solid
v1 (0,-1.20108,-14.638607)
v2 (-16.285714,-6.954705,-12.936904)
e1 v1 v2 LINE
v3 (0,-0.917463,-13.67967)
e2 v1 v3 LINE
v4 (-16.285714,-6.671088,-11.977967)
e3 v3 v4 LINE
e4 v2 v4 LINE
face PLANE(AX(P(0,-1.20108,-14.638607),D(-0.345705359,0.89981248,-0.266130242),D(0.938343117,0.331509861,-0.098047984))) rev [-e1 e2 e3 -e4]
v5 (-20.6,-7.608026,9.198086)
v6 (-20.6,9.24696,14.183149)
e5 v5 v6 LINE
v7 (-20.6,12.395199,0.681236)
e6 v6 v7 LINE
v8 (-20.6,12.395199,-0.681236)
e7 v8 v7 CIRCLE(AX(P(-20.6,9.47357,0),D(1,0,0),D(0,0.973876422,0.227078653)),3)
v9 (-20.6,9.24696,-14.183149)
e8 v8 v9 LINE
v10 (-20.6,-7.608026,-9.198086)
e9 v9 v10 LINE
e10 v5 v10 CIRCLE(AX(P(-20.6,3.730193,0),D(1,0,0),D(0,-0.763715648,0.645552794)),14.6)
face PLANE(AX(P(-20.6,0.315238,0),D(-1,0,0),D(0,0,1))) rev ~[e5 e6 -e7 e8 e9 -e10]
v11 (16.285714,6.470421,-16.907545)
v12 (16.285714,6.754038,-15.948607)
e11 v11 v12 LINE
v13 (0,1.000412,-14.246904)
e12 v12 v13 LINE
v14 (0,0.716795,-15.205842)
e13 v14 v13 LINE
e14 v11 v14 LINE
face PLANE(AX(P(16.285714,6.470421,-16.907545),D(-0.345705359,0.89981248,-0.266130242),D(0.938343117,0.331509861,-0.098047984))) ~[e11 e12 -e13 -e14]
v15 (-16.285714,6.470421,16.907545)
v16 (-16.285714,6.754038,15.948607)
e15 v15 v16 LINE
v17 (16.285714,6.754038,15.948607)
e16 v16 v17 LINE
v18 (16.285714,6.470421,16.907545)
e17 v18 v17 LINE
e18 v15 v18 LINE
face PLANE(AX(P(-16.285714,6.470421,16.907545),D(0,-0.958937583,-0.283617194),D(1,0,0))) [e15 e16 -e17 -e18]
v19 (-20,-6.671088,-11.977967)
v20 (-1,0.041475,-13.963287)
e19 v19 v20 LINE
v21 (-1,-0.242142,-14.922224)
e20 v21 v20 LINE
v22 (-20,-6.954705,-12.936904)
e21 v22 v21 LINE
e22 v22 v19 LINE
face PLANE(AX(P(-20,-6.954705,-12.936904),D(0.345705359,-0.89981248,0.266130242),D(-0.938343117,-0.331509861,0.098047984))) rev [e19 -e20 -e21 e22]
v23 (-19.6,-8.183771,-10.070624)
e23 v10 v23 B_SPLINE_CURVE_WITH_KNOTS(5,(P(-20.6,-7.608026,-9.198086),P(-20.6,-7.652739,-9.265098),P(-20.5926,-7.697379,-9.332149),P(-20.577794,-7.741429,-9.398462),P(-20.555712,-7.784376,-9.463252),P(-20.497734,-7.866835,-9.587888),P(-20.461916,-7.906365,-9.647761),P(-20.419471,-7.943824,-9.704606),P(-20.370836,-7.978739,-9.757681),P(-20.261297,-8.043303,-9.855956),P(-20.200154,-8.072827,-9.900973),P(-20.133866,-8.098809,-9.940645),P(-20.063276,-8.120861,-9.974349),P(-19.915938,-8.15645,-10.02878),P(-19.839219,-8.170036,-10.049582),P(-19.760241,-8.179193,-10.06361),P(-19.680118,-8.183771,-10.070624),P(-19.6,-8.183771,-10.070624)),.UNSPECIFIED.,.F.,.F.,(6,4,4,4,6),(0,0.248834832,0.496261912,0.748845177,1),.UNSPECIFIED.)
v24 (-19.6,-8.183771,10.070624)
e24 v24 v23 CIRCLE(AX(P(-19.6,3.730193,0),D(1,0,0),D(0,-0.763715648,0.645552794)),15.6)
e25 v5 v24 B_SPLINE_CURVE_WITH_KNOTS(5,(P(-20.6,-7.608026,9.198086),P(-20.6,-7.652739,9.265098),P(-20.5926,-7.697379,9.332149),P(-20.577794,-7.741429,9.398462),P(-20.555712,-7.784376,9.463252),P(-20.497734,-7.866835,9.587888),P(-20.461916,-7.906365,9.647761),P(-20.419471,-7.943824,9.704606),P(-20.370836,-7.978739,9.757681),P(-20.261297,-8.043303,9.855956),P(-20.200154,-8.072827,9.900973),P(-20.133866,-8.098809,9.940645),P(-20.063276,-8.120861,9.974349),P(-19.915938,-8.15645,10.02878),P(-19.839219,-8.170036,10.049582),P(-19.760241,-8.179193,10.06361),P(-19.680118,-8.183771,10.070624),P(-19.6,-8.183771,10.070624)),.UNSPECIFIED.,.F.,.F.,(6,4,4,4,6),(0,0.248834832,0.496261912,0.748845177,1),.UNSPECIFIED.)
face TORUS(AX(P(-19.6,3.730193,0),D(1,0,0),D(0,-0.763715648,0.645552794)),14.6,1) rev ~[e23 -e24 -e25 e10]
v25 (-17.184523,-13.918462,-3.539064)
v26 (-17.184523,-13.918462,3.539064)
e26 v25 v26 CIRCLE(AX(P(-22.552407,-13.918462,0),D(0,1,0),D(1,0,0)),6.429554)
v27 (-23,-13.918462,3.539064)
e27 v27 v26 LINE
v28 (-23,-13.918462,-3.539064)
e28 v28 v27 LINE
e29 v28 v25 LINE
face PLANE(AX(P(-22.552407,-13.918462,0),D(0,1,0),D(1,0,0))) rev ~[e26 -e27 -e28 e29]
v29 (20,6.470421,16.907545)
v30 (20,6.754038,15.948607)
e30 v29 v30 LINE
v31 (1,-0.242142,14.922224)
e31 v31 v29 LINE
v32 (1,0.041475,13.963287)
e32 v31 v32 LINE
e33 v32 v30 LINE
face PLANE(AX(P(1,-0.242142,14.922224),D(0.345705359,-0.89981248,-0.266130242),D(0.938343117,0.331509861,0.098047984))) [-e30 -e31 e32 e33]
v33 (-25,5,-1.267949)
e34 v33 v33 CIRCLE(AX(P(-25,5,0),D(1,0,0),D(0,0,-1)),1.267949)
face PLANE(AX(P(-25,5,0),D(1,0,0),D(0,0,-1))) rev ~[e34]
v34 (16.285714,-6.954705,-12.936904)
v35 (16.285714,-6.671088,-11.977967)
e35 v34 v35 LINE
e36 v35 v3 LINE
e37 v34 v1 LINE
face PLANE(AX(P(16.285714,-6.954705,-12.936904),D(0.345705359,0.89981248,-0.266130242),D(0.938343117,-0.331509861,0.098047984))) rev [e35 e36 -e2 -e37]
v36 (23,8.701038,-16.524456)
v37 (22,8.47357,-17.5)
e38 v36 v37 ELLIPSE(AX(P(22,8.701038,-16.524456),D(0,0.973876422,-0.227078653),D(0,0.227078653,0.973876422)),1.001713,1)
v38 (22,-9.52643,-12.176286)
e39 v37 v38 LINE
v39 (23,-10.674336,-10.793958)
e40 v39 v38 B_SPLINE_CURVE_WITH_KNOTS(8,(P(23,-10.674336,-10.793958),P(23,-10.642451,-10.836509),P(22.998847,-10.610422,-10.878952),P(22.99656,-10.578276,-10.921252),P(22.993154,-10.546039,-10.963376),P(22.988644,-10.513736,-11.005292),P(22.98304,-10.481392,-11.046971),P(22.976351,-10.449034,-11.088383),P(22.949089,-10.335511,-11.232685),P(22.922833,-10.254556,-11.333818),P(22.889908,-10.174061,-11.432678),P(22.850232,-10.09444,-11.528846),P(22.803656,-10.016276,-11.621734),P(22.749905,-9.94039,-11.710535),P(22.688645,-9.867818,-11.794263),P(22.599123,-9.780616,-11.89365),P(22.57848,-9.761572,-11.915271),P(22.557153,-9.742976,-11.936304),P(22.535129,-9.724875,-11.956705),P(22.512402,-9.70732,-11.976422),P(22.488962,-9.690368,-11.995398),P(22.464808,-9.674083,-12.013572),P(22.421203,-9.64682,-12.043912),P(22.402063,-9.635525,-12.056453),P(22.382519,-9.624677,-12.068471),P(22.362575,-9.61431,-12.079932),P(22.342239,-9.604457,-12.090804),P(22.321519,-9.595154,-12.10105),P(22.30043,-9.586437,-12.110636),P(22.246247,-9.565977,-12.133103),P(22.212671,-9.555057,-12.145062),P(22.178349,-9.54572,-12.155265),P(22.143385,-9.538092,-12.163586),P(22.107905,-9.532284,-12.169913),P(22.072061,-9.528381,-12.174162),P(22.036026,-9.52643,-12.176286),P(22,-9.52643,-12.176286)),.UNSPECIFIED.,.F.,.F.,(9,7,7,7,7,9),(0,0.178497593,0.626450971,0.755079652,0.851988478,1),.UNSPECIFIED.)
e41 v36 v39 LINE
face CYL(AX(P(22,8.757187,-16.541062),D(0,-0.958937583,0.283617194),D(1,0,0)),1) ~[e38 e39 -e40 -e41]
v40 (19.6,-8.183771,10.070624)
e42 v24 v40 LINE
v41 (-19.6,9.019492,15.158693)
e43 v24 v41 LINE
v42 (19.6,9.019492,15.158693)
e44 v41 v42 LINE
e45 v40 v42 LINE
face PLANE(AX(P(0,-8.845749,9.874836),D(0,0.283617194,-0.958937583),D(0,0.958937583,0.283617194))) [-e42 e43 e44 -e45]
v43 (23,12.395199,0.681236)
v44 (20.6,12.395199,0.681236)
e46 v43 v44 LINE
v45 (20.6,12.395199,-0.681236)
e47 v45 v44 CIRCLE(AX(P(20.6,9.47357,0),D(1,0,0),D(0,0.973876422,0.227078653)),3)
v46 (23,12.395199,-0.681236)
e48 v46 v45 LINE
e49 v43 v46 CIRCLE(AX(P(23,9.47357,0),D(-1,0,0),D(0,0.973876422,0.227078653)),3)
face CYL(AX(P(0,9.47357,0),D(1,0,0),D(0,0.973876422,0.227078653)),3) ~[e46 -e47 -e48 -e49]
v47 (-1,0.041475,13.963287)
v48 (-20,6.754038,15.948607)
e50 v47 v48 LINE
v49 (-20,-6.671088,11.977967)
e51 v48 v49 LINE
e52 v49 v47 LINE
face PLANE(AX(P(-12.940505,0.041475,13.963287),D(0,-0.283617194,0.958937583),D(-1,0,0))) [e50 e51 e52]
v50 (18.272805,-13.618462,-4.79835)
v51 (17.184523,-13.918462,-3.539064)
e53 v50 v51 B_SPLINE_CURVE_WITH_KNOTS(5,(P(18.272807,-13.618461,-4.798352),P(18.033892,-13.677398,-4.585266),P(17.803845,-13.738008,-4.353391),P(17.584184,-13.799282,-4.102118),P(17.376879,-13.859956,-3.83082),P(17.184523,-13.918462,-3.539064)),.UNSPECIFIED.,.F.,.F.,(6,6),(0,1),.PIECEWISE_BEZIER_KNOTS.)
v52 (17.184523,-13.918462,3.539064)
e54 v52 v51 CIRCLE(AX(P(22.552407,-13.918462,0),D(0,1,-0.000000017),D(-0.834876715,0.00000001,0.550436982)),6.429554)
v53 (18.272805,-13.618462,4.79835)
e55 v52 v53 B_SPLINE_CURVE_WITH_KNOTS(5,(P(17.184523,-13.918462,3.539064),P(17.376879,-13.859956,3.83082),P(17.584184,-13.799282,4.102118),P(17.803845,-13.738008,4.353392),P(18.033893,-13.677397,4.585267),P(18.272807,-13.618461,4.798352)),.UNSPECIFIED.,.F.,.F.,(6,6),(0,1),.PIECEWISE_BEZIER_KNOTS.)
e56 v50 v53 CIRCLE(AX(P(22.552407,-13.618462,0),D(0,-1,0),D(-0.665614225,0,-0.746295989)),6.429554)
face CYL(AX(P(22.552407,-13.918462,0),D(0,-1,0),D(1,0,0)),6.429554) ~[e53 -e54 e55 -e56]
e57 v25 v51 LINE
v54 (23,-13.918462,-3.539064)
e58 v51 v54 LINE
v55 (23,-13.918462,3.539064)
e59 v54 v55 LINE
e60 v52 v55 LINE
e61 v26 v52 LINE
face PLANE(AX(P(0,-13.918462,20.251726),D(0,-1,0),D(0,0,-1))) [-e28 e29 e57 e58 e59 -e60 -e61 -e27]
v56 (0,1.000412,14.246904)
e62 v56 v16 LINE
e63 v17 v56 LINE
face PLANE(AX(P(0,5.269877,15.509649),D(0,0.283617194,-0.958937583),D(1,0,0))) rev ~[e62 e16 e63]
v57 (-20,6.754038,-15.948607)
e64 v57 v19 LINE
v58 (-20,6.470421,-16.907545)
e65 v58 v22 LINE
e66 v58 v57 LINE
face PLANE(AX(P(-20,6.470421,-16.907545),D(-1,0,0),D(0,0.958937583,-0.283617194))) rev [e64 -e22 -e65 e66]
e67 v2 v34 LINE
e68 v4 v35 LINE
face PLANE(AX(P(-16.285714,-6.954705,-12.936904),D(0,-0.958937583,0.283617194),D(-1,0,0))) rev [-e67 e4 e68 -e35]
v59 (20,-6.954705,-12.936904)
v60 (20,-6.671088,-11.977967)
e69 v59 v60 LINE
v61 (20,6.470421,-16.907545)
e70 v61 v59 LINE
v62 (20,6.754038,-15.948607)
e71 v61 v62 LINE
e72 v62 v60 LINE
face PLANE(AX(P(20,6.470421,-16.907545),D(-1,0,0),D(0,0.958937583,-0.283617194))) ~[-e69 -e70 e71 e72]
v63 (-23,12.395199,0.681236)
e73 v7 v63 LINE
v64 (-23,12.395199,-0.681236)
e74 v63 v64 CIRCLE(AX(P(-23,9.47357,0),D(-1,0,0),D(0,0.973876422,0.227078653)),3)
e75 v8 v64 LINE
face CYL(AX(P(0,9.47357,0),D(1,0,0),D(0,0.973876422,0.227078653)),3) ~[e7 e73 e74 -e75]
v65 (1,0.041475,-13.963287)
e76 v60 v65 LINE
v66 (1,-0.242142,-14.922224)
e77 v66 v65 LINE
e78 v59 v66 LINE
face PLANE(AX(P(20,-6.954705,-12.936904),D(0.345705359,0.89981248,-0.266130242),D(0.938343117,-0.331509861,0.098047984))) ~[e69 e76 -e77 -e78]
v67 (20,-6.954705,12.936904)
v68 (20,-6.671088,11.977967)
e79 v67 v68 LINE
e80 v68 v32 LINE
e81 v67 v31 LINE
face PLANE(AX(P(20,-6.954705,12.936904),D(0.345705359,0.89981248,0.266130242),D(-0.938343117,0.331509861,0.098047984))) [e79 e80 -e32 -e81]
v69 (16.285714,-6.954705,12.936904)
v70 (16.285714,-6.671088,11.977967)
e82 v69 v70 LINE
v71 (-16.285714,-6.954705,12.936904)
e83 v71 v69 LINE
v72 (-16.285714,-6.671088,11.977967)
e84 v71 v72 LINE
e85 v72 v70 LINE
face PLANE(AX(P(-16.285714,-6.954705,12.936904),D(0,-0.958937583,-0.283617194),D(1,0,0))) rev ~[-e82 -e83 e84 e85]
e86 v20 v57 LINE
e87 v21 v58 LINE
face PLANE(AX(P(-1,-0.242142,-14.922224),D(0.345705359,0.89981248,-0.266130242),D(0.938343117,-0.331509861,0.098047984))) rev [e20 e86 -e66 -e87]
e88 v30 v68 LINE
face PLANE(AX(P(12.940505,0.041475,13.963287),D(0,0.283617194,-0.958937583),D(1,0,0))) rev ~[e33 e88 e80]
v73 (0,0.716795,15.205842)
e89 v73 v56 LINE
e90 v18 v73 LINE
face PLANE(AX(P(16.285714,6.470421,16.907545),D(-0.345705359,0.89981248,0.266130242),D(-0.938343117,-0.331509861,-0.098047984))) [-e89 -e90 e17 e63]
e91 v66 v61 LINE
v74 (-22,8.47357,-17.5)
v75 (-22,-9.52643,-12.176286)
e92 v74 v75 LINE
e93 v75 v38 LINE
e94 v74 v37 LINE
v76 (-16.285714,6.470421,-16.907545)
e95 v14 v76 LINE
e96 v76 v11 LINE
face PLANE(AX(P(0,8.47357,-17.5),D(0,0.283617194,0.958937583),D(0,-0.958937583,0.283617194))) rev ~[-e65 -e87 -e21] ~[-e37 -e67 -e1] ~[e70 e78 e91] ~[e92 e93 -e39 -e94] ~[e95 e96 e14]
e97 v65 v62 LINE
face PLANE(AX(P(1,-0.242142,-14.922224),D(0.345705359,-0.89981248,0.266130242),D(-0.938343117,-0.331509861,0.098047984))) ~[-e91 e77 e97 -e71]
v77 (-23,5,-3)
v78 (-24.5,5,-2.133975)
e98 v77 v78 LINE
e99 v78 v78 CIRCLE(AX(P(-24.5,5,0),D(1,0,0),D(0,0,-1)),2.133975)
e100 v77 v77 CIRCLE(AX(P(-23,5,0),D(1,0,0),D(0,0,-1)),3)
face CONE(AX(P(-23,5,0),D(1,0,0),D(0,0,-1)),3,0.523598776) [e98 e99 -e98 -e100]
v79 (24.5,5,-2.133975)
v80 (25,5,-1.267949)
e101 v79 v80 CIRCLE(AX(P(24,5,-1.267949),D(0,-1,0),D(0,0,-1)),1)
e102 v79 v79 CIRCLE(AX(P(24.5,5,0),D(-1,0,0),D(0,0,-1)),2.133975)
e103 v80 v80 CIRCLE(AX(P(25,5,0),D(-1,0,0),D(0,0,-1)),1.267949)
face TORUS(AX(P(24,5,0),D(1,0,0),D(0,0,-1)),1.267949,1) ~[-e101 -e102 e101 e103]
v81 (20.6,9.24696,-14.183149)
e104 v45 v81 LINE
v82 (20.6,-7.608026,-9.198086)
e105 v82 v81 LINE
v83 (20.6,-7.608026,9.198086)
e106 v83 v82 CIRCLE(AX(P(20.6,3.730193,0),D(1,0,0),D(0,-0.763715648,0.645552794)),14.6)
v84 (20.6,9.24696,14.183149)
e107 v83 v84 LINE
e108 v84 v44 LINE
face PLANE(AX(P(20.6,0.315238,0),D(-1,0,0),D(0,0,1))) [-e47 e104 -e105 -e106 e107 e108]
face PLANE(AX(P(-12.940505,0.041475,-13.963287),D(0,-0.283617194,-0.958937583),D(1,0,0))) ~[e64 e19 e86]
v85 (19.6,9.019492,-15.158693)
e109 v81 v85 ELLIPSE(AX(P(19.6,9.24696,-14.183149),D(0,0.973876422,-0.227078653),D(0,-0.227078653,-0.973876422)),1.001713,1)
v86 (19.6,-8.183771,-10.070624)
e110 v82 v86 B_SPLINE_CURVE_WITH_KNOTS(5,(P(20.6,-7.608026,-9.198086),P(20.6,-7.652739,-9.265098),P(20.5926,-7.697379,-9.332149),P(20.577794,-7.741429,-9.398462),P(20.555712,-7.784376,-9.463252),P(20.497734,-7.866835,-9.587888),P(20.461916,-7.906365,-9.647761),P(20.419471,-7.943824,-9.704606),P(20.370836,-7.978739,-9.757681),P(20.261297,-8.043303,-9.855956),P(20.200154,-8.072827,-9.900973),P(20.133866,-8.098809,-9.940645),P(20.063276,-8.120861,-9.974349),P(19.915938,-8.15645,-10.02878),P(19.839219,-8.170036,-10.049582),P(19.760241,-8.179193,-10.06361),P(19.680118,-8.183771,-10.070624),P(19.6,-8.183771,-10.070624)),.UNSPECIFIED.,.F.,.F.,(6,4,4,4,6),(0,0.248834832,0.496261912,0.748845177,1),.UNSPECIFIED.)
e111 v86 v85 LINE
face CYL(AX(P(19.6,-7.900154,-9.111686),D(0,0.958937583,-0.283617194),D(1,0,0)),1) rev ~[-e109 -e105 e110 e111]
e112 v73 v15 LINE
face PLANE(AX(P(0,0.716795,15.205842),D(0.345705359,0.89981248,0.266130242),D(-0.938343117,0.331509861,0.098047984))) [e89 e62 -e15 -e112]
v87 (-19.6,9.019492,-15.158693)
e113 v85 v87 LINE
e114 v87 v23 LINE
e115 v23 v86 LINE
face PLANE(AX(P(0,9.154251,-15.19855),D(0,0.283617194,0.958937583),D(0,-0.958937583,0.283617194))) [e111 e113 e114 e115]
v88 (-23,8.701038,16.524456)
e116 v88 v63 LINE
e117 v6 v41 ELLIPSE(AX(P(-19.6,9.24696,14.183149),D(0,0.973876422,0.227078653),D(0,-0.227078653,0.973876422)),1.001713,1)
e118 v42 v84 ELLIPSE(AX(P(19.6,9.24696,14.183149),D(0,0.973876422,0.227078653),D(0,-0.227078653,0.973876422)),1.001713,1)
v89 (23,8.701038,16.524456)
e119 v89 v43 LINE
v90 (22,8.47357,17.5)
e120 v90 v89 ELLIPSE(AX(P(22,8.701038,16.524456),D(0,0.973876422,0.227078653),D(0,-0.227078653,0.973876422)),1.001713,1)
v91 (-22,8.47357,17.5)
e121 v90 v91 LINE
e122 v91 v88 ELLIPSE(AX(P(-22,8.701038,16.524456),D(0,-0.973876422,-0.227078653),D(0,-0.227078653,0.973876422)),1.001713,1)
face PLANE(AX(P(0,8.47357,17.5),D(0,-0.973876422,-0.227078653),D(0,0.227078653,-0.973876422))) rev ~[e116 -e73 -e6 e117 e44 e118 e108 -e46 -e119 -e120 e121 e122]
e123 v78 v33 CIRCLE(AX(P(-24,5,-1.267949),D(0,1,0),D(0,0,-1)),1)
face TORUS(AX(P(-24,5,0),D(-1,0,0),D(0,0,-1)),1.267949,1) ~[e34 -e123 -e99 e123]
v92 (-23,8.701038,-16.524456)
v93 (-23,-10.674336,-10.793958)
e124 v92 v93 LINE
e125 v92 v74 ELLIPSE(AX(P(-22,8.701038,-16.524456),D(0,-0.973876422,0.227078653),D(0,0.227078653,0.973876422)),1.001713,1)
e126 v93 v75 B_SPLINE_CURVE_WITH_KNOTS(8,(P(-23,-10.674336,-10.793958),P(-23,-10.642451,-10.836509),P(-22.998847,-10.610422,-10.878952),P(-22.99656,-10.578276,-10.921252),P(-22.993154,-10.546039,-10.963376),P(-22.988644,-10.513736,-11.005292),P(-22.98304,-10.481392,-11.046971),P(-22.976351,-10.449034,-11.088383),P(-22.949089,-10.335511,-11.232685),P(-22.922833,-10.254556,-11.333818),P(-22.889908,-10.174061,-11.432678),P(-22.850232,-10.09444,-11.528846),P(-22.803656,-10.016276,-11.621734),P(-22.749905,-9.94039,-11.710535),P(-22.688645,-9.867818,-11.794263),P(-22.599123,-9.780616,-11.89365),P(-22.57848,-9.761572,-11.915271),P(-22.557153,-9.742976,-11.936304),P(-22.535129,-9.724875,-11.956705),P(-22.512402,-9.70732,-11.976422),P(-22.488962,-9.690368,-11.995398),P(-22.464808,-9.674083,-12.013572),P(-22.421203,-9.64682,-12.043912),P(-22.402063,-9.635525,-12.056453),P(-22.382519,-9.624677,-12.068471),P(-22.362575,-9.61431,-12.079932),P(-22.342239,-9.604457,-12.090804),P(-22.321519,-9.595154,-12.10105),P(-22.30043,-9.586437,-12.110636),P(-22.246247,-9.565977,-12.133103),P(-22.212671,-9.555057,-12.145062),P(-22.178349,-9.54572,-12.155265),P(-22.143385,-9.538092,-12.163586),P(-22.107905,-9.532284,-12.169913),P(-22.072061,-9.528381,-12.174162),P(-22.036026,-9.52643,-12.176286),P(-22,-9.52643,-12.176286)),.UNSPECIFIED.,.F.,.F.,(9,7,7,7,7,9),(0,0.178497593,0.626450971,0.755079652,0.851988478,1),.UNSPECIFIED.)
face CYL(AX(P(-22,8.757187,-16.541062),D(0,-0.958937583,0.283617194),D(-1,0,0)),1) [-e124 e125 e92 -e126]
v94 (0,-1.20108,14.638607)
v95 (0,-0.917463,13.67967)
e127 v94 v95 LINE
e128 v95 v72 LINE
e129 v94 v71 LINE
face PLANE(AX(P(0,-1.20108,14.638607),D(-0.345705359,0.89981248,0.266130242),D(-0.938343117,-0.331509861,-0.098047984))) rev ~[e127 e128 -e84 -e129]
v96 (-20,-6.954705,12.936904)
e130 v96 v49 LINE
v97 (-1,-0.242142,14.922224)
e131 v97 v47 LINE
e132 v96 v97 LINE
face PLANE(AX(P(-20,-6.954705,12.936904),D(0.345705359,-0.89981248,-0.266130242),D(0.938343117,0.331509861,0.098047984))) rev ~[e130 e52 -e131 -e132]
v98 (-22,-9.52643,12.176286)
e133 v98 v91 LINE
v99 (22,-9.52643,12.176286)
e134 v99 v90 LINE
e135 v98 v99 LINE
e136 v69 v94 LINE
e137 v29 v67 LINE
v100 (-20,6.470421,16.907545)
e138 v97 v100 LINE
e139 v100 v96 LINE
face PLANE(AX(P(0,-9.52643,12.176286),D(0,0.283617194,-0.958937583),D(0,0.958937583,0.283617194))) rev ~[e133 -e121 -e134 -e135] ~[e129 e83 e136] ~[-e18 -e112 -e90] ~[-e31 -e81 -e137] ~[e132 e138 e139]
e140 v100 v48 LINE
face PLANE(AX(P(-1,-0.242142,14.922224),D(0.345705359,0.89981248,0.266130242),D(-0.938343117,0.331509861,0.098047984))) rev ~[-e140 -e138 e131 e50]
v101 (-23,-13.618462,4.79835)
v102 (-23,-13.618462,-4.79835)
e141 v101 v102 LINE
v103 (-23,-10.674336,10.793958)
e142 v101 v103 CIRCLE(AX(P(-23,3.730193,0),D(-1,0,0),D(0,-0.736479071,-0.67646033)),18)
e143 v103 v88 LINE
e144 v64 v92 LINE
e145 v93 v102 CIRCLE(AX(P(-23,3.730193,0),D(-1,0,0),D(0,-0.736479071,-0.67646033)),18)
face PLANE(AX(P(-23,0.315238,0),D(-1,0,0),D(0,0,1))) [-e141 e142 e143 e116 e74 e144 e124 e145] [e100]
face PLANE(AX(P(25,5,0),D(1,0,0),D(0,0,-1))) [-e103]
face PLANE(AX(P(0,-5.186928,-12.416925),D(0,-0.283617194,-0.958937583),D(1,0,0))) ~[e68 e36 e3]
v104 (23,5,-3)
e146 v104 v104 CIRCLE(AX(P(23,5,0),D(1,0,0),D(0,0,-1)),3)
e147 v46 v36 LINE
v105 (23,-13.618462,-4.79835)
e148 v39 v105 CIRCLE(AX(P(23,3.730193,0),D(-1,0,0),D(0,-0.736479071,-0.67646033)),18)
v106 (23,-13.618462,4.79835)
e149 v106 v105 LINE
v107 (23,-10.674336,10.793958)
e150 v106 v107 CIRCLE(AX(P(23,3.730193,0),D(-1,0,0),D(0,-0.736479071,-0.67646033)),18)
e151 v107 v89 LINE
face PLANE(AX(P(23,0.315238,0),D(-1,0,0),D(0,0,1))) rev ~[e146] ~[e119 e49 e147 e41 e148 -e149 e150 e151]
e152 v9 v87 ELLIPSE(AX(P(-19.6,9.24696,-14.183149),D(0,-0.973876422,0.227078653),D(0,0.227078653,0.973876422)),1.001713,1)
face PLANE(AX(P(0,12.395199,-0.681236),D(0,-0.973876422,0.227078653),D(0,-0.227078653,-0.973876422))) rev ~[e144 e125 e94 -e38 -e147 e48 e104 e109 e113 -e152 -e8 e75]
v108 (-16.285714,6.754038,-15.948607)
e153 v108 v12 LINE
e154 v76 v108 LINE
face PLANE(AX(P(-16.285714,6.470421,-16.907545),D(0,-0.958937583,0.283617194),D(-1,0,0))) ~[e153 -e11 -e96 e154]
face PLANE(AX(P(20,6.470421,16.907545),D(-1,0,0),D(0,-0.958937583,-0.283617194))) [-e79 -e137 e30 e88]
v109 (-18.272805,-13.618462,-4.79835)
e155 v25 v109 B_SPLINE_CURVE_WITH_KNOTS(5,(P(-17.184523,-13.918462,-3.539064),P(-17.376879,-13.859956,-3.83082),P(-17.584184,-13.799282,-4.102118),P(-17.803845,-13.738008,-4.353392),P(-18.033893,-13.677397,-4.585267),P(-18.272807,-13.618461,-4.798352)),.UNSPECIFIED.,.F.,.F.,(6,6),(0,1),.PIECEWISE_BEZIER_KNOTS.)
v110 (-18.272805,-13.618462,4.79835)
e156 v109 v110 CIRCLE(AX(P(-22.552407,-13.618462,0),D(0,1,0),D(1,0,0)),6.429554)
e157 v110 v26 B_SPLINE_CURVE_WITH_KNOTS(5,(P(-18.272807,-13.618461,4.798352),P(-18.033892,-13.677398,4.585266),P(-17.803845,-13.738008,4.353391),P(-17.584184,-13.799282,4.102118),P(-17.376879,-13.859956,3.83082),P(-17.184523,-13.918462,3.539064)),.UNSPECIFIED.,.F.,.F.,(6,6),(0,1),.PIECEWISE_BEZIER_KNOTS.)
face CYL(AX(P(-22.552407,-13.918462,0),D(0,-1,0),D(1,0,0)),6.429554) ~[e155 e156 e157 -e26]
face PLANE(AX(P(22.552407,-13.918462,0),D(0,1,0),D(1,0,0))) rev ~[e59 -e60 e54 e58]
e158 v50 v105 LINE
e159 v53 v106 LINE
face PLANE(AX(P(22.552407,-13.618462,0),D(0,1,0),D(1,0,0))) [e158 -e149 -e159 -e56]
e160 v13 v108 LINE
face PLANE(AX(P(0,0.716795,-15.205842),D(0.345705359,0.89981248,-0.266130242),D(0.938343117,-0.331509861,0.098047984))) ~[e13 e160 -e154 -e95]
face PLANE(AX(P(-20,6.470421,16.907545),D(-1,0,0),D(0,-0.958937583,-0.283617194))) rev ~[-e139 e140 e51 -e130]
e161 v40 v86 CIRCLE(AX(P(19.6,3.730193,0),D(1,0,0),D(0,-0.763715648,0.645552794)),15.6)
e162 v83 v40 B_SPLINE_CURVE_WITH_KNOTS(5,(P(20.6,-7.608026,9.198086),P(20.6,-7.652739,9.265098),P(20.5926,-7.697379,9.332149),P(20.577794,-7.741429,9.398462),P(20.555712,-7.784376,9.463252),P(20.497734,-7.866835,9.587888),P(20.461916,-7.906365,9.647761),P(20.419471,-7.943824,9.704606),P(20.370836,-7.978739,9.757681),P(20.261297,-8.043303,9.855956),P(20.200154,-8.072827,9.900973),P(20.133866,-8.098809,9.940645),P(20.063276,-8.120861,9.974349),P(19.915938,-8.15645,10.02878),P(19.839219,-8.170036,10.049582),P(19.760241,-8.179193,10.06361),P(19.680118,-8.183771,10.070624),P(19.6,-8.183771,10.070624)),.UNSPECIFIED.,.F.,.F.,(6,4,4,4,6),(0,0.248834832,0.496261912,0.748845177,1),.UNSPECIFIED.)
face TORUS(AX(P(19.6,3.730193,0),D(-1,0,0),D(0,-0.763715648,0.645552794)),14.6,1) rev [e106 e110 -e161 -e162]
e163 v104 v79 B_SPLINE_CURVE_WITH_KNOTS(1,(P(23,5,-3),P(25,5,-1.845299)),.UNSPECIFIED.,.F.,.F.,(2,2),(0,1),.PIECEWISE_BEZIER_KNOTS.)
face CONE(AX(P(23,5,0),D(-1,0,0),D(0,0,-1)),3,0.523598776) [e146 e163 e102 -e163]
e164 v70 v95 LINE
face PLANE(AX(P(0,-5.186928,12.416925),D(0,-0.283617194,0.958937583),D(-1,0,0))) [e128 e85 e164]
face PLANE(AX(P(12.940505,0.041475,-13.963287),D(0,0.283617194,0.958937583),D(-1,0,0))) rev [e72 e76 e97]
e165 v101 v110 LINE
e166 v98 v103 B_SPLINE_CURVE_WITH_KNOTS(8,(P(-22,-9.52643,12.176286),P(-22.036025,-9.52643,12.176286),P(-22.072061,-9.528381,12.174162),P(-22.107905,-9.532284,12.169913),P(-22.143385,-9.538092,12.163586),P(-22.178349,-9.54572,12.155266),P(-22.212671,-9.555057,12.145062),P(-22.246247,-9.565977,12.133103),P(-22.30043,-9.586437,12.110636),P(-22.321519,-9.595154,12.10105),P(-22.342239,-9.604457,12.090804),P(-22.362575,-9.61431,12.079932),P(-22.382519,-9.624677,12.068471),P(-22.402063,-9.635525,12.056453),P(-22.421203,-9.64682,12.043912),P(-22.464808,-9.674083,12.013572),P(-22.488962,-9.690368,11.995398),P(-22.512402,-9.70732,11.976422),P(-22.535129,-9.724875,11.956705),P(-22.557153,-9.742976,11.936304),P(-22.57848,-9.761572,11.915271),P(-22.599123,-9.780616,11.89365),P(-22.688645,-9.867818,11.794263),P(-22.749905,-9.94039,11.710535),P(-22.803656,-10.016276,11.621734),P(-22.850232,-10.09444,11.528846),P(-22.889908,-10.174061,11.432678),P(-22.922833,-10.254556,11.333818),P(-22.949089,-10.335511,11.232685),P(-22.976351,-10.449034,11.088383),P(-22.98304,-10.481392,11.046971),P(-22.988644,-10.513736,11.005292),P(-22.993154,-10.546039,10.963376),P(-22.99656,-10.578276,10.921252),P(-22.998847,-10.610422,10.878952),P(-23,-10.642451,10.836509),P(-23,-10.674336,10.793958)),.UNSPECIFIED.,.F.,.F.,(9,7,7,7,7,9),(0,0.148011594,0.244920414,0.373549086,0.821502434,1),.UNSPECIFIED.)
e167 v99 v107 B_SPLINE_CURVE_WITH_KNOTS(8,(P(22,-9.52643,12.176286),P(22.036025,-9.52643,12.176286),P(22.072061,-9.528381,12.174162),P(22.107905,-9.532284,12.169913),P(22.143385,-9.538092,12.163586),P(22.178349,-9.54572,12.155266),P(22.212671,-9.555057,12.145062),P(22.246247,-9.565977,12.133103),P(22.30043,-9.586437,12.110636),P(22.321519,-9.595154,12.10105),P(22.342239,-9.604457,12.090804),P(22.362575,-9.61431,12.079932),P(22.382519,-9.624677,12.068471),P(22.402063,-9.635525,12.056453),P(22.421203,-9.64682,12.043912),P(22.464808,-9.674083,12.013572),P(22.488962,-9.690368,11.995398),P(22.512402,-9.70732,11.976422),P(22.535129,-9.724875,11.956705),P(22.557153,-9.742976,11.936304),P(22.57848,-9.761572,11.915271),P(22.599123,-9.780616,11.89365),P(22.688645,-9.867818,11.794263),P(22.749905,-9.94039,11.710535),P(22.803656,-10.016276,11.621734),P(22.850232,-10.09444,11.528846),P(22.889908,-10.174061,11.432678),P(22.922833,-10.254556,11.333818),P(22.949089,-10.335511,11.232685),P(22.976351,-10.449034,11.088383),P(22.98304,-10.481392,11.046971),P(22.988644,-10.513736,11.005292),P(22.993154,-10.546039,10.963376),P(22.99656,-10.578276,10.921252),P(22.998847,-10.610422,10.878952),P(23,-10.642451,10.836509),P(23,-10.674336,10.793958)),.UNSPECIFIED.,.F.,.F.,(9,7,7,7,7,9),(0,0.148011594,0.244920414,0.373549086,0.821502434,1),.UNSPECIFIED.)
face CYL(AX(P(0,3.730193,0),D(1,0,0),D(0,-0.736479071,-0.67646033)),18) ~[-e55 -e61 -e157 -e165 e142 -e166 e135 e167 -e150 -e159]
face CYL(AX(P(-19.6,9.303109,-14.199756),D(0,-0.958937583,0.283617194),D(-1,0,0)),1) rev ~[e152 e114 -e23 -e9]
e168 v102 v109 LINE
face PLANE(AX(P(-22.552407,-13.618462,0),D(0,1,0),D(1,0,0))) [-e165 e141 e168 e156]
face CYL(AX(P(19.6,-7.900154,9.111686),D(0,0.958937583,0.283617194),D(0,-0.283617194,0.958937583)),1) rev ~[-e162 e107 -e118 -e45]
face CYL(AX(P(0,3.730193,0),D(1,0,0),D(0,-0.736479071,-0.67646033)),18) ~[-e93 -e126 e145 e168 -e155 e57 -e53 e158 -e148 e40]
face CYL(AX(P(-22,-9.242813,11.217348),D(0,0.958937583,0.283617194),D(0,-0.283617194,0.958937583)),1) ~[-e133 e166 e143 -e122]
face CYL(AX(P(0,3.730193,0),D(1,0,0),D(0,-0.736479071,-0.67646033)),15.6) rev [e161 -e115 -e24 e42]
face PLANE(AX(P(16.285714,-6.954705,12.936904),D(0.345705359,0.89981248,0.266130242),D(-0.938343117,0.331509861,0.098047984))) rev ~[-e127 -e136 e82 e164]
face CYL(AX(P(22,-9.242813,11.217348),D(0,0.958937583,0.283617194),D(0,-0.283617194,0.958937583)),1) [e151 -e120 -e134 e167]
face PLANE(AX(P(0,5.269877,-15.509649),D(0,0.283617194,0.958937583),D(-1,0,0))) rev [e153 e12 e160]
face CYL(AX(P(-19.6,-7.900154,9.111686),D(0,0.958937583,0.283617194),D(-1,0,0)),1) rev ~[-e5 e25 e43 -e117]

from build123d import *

# Parameters (mm, degrees)
BOSS_EXTRUDE1_DEPTH = 23
SHELL1_T            = -2.4
BOSS_EXTRUDE2_START = 23
SKETCH2_R           = 3
BOSS_EXTRUDE2_DEPTH = 2
BOSS_EXTRUDE2_TAPER = 30
BOSS_EXTRUDE3_START = -23
SKETCH2_2_R         = 3
BOSS_EXTRUDE3_DEPTH = 2
BOSS_EXTRUDE3_DRAFT = -30
FILLET1_R           = 1
CUT_EXTRUDE1_DEPTH  = 1
SKETCH4_W           = 40.50345243
SKETCH4_H           = 8.465012935
CUT_EXTRUDE2_DEPTH  = 50
BOSS_EXTRUDE4_START = -13.918462
SKETCH5_R           = 6.429553597
BOSS_EXTRUDE4_DEPTH = 0.3
FILLET2_R           = 1


with BuildPart() as part:
    # Sketch1 → Boss-Extrude1 (new, symmetric)
    with BuildSketch(Plane(origin=(0, 0, 0), x_dir=(0, 0, -1), z_dir=(1, 0, 0))):
        with BuildLine():
            Line((-12.176285942, -9.526430091), (-17.5, 8.473569909))
            Line((-17.5, 8.473569909), (-0.681235958, 12.395199175))
            ThreePointArc((-0.681235958, 12.395199175), (0, 12.473569909), (0.681235958, 12.395199175))
            Line((0.681235958, 12.395199175), (17.5, 8.473569909))
            Line((17.5, 8.473569909), (12.176285942, -9.526430091))
            ThreePointArc((12.176285942, -9.526430091), (0, -14.269806816), (-12.176285942, -9.526430091))
        make_face()
    extrude(amount=BOSS_EXTRUDE1_DEPTH, both=True)

    # Shell1
    shell1_openings = [part.faces().sort_by_distance(p)[0] for p in [
        (0, 10.434384542, 9.090617979),
        (0, 12.473569909, 0),
        (0, 10.434384542, -9.090617979),
    ]]
    offset(amount=SHELL1_T, openings=shell1_openings, kind=Kind.INTERSECTION)

    # Sketch2 → Boss-Extrude2 (add)
    with BuildSketch(Plane(origin=(0, 0, 0), x_dir=(0, 0, -1), z_dir=(1, 0, 0)).offset(BOSS_EXTRUDE2_START)):
        with Locations((0, 5)):
            Circle(SKETCH2_R)
    extrude(amount=BOSS_EXTRUDE2_DEPTH, taper=BOSS_EXTRUDE2_TAPER)


with BuildPart() as boss_extrude3_tool:
    # Sketch2<2> → Boss-Extrude3 (with draft: the straight prism first)
    with BuildSketch(Plane(origin=(0, 0, 0), x_dir=(0, 0, -1), z_dir=(1, 0, 0)).offset(BOSS_EXTRUDE3_START)):
        with Locations((0, 5)):
            Circle(SKETCH2_2_R)
    extrude(amount=-BOSS_EXTRUDE3_DEPTH)
    # Boss-Extrude3: the draft: its side faces are tilted about the plane it starts from
    boss_extrude3_sides = [boss_extrude3_tool.faces().sort_by_distance(p)[0] for p in [
        (-24, 5, 3),
    ]]
    draft(boss_extrude3_sides, Plane(origin=(0, 0, 0), x_dir=(0, 0, -1), z_dir=(1, 0, 0)).offset(BOSS_EXTRUDE3_START), BOSS_EXTRUDE3_DRAFT)


with BuildPart() as part_1:
    add(part.part)

    # Boss-Extrude3: add boss_extrude3_tool
    add(boss_extrude3_tool.part)

    # Fillet1
    fillet1_edges = [part_1.edges().sort_by_distance(p)[0] for p in [
        (23, -0.526430091, 14.838142971),
        (-20.6, -11.869806816, 0),
        (-20.6, 0.417860611, -12.614658399),
        (-20.6, 0.417860611, 12.614658399),
        (20.6, -11.869806816, 0),
        (20.6, 0.417860611, -12.614658399),
        (20.6, 0.417860611, 12.614658399),
        (-23, -0.526430091, 14.838142971),
        (23, -0.526430091, -14.838142971),
        (-23, -0.526430091, -14.838142971),
    ]]
    fillet(fillet1_edges, radius=FILLET1_R)

    # Sketch3 → Cut-Extrude1 (cut)
    with BuildSketch(Plane(origin=(0, -99.309611189, -14.378157577), x_dir=(1, 0, 0), z_dir=(0, 0.28361719382763534, -0.9589375826222152))):
        Polygon((-20, -96.309611189), (-1, -103.309611189), (-20, -110.309611189), align=None)
        Polygon((20, -110.309611189), (20, -96.309611189), (1, -103.309611189), align=None)
        Polygon((-16.285714286, -96.309611189), (16.285714286, -96.309611189), (0, -102.309611189), align=None)
        Polygon((-16.285714286, -110.309611189), (16.285714286, -110.309611189), (0, -104.309611189), align=None)
    cut_extrude1 = extrude(amount=CUT_EXTRUDE1_DEPTH, mode=Mode.SUBTRACT)

    # Mirror1: Cut-Extrude1 across plane
    add(cut_extrude1.mirror(Plane.XY), mode=Mode.SUBTRACT)

    # Sketch4 → Cut-Extrude2 (cut, symmetric)
    with BuildSketch(Plane(origin=(0, 0, 0), x_dir=(0, 0, -1), z_dir=(1, 0, 0))):
        with Locations((0, -18.150968344)):
            Rectangle(SKETCH4_W, SKETCH4_H)
    extrude(amount=CUT_EXTRUDE2_DEPTH, both=True, mode=Mode.SUBTRACT)

    # Sketch5 → Boss-Extrude4 (add)
    with BuildSketch(Plane(origin=(0, 0, 0), x_dir=(1, 0, 0), z_dir=(0, 1, 0)).offset(BOSS_EXTRUDE4_START)):
        with Locations((22.552407332, 0)):
            Circle(SKETCH5_R)
        with Locations((-22.552407332, 0)):
            Circle(SKETCH5_R)
    extrude(amount=BOSS_EXTRUDE4_DEPTH)

    # Fillet2
    fillet2_edges = [part_1.edges().sort_by_distance(p)[0] for p in [
        (25, 5, 1.845299462),
        (-25, 5, 1.845299462),
    ]]
    fillet(fillet2_edges, radius=FILLET2_R)


solid = part_1.part
